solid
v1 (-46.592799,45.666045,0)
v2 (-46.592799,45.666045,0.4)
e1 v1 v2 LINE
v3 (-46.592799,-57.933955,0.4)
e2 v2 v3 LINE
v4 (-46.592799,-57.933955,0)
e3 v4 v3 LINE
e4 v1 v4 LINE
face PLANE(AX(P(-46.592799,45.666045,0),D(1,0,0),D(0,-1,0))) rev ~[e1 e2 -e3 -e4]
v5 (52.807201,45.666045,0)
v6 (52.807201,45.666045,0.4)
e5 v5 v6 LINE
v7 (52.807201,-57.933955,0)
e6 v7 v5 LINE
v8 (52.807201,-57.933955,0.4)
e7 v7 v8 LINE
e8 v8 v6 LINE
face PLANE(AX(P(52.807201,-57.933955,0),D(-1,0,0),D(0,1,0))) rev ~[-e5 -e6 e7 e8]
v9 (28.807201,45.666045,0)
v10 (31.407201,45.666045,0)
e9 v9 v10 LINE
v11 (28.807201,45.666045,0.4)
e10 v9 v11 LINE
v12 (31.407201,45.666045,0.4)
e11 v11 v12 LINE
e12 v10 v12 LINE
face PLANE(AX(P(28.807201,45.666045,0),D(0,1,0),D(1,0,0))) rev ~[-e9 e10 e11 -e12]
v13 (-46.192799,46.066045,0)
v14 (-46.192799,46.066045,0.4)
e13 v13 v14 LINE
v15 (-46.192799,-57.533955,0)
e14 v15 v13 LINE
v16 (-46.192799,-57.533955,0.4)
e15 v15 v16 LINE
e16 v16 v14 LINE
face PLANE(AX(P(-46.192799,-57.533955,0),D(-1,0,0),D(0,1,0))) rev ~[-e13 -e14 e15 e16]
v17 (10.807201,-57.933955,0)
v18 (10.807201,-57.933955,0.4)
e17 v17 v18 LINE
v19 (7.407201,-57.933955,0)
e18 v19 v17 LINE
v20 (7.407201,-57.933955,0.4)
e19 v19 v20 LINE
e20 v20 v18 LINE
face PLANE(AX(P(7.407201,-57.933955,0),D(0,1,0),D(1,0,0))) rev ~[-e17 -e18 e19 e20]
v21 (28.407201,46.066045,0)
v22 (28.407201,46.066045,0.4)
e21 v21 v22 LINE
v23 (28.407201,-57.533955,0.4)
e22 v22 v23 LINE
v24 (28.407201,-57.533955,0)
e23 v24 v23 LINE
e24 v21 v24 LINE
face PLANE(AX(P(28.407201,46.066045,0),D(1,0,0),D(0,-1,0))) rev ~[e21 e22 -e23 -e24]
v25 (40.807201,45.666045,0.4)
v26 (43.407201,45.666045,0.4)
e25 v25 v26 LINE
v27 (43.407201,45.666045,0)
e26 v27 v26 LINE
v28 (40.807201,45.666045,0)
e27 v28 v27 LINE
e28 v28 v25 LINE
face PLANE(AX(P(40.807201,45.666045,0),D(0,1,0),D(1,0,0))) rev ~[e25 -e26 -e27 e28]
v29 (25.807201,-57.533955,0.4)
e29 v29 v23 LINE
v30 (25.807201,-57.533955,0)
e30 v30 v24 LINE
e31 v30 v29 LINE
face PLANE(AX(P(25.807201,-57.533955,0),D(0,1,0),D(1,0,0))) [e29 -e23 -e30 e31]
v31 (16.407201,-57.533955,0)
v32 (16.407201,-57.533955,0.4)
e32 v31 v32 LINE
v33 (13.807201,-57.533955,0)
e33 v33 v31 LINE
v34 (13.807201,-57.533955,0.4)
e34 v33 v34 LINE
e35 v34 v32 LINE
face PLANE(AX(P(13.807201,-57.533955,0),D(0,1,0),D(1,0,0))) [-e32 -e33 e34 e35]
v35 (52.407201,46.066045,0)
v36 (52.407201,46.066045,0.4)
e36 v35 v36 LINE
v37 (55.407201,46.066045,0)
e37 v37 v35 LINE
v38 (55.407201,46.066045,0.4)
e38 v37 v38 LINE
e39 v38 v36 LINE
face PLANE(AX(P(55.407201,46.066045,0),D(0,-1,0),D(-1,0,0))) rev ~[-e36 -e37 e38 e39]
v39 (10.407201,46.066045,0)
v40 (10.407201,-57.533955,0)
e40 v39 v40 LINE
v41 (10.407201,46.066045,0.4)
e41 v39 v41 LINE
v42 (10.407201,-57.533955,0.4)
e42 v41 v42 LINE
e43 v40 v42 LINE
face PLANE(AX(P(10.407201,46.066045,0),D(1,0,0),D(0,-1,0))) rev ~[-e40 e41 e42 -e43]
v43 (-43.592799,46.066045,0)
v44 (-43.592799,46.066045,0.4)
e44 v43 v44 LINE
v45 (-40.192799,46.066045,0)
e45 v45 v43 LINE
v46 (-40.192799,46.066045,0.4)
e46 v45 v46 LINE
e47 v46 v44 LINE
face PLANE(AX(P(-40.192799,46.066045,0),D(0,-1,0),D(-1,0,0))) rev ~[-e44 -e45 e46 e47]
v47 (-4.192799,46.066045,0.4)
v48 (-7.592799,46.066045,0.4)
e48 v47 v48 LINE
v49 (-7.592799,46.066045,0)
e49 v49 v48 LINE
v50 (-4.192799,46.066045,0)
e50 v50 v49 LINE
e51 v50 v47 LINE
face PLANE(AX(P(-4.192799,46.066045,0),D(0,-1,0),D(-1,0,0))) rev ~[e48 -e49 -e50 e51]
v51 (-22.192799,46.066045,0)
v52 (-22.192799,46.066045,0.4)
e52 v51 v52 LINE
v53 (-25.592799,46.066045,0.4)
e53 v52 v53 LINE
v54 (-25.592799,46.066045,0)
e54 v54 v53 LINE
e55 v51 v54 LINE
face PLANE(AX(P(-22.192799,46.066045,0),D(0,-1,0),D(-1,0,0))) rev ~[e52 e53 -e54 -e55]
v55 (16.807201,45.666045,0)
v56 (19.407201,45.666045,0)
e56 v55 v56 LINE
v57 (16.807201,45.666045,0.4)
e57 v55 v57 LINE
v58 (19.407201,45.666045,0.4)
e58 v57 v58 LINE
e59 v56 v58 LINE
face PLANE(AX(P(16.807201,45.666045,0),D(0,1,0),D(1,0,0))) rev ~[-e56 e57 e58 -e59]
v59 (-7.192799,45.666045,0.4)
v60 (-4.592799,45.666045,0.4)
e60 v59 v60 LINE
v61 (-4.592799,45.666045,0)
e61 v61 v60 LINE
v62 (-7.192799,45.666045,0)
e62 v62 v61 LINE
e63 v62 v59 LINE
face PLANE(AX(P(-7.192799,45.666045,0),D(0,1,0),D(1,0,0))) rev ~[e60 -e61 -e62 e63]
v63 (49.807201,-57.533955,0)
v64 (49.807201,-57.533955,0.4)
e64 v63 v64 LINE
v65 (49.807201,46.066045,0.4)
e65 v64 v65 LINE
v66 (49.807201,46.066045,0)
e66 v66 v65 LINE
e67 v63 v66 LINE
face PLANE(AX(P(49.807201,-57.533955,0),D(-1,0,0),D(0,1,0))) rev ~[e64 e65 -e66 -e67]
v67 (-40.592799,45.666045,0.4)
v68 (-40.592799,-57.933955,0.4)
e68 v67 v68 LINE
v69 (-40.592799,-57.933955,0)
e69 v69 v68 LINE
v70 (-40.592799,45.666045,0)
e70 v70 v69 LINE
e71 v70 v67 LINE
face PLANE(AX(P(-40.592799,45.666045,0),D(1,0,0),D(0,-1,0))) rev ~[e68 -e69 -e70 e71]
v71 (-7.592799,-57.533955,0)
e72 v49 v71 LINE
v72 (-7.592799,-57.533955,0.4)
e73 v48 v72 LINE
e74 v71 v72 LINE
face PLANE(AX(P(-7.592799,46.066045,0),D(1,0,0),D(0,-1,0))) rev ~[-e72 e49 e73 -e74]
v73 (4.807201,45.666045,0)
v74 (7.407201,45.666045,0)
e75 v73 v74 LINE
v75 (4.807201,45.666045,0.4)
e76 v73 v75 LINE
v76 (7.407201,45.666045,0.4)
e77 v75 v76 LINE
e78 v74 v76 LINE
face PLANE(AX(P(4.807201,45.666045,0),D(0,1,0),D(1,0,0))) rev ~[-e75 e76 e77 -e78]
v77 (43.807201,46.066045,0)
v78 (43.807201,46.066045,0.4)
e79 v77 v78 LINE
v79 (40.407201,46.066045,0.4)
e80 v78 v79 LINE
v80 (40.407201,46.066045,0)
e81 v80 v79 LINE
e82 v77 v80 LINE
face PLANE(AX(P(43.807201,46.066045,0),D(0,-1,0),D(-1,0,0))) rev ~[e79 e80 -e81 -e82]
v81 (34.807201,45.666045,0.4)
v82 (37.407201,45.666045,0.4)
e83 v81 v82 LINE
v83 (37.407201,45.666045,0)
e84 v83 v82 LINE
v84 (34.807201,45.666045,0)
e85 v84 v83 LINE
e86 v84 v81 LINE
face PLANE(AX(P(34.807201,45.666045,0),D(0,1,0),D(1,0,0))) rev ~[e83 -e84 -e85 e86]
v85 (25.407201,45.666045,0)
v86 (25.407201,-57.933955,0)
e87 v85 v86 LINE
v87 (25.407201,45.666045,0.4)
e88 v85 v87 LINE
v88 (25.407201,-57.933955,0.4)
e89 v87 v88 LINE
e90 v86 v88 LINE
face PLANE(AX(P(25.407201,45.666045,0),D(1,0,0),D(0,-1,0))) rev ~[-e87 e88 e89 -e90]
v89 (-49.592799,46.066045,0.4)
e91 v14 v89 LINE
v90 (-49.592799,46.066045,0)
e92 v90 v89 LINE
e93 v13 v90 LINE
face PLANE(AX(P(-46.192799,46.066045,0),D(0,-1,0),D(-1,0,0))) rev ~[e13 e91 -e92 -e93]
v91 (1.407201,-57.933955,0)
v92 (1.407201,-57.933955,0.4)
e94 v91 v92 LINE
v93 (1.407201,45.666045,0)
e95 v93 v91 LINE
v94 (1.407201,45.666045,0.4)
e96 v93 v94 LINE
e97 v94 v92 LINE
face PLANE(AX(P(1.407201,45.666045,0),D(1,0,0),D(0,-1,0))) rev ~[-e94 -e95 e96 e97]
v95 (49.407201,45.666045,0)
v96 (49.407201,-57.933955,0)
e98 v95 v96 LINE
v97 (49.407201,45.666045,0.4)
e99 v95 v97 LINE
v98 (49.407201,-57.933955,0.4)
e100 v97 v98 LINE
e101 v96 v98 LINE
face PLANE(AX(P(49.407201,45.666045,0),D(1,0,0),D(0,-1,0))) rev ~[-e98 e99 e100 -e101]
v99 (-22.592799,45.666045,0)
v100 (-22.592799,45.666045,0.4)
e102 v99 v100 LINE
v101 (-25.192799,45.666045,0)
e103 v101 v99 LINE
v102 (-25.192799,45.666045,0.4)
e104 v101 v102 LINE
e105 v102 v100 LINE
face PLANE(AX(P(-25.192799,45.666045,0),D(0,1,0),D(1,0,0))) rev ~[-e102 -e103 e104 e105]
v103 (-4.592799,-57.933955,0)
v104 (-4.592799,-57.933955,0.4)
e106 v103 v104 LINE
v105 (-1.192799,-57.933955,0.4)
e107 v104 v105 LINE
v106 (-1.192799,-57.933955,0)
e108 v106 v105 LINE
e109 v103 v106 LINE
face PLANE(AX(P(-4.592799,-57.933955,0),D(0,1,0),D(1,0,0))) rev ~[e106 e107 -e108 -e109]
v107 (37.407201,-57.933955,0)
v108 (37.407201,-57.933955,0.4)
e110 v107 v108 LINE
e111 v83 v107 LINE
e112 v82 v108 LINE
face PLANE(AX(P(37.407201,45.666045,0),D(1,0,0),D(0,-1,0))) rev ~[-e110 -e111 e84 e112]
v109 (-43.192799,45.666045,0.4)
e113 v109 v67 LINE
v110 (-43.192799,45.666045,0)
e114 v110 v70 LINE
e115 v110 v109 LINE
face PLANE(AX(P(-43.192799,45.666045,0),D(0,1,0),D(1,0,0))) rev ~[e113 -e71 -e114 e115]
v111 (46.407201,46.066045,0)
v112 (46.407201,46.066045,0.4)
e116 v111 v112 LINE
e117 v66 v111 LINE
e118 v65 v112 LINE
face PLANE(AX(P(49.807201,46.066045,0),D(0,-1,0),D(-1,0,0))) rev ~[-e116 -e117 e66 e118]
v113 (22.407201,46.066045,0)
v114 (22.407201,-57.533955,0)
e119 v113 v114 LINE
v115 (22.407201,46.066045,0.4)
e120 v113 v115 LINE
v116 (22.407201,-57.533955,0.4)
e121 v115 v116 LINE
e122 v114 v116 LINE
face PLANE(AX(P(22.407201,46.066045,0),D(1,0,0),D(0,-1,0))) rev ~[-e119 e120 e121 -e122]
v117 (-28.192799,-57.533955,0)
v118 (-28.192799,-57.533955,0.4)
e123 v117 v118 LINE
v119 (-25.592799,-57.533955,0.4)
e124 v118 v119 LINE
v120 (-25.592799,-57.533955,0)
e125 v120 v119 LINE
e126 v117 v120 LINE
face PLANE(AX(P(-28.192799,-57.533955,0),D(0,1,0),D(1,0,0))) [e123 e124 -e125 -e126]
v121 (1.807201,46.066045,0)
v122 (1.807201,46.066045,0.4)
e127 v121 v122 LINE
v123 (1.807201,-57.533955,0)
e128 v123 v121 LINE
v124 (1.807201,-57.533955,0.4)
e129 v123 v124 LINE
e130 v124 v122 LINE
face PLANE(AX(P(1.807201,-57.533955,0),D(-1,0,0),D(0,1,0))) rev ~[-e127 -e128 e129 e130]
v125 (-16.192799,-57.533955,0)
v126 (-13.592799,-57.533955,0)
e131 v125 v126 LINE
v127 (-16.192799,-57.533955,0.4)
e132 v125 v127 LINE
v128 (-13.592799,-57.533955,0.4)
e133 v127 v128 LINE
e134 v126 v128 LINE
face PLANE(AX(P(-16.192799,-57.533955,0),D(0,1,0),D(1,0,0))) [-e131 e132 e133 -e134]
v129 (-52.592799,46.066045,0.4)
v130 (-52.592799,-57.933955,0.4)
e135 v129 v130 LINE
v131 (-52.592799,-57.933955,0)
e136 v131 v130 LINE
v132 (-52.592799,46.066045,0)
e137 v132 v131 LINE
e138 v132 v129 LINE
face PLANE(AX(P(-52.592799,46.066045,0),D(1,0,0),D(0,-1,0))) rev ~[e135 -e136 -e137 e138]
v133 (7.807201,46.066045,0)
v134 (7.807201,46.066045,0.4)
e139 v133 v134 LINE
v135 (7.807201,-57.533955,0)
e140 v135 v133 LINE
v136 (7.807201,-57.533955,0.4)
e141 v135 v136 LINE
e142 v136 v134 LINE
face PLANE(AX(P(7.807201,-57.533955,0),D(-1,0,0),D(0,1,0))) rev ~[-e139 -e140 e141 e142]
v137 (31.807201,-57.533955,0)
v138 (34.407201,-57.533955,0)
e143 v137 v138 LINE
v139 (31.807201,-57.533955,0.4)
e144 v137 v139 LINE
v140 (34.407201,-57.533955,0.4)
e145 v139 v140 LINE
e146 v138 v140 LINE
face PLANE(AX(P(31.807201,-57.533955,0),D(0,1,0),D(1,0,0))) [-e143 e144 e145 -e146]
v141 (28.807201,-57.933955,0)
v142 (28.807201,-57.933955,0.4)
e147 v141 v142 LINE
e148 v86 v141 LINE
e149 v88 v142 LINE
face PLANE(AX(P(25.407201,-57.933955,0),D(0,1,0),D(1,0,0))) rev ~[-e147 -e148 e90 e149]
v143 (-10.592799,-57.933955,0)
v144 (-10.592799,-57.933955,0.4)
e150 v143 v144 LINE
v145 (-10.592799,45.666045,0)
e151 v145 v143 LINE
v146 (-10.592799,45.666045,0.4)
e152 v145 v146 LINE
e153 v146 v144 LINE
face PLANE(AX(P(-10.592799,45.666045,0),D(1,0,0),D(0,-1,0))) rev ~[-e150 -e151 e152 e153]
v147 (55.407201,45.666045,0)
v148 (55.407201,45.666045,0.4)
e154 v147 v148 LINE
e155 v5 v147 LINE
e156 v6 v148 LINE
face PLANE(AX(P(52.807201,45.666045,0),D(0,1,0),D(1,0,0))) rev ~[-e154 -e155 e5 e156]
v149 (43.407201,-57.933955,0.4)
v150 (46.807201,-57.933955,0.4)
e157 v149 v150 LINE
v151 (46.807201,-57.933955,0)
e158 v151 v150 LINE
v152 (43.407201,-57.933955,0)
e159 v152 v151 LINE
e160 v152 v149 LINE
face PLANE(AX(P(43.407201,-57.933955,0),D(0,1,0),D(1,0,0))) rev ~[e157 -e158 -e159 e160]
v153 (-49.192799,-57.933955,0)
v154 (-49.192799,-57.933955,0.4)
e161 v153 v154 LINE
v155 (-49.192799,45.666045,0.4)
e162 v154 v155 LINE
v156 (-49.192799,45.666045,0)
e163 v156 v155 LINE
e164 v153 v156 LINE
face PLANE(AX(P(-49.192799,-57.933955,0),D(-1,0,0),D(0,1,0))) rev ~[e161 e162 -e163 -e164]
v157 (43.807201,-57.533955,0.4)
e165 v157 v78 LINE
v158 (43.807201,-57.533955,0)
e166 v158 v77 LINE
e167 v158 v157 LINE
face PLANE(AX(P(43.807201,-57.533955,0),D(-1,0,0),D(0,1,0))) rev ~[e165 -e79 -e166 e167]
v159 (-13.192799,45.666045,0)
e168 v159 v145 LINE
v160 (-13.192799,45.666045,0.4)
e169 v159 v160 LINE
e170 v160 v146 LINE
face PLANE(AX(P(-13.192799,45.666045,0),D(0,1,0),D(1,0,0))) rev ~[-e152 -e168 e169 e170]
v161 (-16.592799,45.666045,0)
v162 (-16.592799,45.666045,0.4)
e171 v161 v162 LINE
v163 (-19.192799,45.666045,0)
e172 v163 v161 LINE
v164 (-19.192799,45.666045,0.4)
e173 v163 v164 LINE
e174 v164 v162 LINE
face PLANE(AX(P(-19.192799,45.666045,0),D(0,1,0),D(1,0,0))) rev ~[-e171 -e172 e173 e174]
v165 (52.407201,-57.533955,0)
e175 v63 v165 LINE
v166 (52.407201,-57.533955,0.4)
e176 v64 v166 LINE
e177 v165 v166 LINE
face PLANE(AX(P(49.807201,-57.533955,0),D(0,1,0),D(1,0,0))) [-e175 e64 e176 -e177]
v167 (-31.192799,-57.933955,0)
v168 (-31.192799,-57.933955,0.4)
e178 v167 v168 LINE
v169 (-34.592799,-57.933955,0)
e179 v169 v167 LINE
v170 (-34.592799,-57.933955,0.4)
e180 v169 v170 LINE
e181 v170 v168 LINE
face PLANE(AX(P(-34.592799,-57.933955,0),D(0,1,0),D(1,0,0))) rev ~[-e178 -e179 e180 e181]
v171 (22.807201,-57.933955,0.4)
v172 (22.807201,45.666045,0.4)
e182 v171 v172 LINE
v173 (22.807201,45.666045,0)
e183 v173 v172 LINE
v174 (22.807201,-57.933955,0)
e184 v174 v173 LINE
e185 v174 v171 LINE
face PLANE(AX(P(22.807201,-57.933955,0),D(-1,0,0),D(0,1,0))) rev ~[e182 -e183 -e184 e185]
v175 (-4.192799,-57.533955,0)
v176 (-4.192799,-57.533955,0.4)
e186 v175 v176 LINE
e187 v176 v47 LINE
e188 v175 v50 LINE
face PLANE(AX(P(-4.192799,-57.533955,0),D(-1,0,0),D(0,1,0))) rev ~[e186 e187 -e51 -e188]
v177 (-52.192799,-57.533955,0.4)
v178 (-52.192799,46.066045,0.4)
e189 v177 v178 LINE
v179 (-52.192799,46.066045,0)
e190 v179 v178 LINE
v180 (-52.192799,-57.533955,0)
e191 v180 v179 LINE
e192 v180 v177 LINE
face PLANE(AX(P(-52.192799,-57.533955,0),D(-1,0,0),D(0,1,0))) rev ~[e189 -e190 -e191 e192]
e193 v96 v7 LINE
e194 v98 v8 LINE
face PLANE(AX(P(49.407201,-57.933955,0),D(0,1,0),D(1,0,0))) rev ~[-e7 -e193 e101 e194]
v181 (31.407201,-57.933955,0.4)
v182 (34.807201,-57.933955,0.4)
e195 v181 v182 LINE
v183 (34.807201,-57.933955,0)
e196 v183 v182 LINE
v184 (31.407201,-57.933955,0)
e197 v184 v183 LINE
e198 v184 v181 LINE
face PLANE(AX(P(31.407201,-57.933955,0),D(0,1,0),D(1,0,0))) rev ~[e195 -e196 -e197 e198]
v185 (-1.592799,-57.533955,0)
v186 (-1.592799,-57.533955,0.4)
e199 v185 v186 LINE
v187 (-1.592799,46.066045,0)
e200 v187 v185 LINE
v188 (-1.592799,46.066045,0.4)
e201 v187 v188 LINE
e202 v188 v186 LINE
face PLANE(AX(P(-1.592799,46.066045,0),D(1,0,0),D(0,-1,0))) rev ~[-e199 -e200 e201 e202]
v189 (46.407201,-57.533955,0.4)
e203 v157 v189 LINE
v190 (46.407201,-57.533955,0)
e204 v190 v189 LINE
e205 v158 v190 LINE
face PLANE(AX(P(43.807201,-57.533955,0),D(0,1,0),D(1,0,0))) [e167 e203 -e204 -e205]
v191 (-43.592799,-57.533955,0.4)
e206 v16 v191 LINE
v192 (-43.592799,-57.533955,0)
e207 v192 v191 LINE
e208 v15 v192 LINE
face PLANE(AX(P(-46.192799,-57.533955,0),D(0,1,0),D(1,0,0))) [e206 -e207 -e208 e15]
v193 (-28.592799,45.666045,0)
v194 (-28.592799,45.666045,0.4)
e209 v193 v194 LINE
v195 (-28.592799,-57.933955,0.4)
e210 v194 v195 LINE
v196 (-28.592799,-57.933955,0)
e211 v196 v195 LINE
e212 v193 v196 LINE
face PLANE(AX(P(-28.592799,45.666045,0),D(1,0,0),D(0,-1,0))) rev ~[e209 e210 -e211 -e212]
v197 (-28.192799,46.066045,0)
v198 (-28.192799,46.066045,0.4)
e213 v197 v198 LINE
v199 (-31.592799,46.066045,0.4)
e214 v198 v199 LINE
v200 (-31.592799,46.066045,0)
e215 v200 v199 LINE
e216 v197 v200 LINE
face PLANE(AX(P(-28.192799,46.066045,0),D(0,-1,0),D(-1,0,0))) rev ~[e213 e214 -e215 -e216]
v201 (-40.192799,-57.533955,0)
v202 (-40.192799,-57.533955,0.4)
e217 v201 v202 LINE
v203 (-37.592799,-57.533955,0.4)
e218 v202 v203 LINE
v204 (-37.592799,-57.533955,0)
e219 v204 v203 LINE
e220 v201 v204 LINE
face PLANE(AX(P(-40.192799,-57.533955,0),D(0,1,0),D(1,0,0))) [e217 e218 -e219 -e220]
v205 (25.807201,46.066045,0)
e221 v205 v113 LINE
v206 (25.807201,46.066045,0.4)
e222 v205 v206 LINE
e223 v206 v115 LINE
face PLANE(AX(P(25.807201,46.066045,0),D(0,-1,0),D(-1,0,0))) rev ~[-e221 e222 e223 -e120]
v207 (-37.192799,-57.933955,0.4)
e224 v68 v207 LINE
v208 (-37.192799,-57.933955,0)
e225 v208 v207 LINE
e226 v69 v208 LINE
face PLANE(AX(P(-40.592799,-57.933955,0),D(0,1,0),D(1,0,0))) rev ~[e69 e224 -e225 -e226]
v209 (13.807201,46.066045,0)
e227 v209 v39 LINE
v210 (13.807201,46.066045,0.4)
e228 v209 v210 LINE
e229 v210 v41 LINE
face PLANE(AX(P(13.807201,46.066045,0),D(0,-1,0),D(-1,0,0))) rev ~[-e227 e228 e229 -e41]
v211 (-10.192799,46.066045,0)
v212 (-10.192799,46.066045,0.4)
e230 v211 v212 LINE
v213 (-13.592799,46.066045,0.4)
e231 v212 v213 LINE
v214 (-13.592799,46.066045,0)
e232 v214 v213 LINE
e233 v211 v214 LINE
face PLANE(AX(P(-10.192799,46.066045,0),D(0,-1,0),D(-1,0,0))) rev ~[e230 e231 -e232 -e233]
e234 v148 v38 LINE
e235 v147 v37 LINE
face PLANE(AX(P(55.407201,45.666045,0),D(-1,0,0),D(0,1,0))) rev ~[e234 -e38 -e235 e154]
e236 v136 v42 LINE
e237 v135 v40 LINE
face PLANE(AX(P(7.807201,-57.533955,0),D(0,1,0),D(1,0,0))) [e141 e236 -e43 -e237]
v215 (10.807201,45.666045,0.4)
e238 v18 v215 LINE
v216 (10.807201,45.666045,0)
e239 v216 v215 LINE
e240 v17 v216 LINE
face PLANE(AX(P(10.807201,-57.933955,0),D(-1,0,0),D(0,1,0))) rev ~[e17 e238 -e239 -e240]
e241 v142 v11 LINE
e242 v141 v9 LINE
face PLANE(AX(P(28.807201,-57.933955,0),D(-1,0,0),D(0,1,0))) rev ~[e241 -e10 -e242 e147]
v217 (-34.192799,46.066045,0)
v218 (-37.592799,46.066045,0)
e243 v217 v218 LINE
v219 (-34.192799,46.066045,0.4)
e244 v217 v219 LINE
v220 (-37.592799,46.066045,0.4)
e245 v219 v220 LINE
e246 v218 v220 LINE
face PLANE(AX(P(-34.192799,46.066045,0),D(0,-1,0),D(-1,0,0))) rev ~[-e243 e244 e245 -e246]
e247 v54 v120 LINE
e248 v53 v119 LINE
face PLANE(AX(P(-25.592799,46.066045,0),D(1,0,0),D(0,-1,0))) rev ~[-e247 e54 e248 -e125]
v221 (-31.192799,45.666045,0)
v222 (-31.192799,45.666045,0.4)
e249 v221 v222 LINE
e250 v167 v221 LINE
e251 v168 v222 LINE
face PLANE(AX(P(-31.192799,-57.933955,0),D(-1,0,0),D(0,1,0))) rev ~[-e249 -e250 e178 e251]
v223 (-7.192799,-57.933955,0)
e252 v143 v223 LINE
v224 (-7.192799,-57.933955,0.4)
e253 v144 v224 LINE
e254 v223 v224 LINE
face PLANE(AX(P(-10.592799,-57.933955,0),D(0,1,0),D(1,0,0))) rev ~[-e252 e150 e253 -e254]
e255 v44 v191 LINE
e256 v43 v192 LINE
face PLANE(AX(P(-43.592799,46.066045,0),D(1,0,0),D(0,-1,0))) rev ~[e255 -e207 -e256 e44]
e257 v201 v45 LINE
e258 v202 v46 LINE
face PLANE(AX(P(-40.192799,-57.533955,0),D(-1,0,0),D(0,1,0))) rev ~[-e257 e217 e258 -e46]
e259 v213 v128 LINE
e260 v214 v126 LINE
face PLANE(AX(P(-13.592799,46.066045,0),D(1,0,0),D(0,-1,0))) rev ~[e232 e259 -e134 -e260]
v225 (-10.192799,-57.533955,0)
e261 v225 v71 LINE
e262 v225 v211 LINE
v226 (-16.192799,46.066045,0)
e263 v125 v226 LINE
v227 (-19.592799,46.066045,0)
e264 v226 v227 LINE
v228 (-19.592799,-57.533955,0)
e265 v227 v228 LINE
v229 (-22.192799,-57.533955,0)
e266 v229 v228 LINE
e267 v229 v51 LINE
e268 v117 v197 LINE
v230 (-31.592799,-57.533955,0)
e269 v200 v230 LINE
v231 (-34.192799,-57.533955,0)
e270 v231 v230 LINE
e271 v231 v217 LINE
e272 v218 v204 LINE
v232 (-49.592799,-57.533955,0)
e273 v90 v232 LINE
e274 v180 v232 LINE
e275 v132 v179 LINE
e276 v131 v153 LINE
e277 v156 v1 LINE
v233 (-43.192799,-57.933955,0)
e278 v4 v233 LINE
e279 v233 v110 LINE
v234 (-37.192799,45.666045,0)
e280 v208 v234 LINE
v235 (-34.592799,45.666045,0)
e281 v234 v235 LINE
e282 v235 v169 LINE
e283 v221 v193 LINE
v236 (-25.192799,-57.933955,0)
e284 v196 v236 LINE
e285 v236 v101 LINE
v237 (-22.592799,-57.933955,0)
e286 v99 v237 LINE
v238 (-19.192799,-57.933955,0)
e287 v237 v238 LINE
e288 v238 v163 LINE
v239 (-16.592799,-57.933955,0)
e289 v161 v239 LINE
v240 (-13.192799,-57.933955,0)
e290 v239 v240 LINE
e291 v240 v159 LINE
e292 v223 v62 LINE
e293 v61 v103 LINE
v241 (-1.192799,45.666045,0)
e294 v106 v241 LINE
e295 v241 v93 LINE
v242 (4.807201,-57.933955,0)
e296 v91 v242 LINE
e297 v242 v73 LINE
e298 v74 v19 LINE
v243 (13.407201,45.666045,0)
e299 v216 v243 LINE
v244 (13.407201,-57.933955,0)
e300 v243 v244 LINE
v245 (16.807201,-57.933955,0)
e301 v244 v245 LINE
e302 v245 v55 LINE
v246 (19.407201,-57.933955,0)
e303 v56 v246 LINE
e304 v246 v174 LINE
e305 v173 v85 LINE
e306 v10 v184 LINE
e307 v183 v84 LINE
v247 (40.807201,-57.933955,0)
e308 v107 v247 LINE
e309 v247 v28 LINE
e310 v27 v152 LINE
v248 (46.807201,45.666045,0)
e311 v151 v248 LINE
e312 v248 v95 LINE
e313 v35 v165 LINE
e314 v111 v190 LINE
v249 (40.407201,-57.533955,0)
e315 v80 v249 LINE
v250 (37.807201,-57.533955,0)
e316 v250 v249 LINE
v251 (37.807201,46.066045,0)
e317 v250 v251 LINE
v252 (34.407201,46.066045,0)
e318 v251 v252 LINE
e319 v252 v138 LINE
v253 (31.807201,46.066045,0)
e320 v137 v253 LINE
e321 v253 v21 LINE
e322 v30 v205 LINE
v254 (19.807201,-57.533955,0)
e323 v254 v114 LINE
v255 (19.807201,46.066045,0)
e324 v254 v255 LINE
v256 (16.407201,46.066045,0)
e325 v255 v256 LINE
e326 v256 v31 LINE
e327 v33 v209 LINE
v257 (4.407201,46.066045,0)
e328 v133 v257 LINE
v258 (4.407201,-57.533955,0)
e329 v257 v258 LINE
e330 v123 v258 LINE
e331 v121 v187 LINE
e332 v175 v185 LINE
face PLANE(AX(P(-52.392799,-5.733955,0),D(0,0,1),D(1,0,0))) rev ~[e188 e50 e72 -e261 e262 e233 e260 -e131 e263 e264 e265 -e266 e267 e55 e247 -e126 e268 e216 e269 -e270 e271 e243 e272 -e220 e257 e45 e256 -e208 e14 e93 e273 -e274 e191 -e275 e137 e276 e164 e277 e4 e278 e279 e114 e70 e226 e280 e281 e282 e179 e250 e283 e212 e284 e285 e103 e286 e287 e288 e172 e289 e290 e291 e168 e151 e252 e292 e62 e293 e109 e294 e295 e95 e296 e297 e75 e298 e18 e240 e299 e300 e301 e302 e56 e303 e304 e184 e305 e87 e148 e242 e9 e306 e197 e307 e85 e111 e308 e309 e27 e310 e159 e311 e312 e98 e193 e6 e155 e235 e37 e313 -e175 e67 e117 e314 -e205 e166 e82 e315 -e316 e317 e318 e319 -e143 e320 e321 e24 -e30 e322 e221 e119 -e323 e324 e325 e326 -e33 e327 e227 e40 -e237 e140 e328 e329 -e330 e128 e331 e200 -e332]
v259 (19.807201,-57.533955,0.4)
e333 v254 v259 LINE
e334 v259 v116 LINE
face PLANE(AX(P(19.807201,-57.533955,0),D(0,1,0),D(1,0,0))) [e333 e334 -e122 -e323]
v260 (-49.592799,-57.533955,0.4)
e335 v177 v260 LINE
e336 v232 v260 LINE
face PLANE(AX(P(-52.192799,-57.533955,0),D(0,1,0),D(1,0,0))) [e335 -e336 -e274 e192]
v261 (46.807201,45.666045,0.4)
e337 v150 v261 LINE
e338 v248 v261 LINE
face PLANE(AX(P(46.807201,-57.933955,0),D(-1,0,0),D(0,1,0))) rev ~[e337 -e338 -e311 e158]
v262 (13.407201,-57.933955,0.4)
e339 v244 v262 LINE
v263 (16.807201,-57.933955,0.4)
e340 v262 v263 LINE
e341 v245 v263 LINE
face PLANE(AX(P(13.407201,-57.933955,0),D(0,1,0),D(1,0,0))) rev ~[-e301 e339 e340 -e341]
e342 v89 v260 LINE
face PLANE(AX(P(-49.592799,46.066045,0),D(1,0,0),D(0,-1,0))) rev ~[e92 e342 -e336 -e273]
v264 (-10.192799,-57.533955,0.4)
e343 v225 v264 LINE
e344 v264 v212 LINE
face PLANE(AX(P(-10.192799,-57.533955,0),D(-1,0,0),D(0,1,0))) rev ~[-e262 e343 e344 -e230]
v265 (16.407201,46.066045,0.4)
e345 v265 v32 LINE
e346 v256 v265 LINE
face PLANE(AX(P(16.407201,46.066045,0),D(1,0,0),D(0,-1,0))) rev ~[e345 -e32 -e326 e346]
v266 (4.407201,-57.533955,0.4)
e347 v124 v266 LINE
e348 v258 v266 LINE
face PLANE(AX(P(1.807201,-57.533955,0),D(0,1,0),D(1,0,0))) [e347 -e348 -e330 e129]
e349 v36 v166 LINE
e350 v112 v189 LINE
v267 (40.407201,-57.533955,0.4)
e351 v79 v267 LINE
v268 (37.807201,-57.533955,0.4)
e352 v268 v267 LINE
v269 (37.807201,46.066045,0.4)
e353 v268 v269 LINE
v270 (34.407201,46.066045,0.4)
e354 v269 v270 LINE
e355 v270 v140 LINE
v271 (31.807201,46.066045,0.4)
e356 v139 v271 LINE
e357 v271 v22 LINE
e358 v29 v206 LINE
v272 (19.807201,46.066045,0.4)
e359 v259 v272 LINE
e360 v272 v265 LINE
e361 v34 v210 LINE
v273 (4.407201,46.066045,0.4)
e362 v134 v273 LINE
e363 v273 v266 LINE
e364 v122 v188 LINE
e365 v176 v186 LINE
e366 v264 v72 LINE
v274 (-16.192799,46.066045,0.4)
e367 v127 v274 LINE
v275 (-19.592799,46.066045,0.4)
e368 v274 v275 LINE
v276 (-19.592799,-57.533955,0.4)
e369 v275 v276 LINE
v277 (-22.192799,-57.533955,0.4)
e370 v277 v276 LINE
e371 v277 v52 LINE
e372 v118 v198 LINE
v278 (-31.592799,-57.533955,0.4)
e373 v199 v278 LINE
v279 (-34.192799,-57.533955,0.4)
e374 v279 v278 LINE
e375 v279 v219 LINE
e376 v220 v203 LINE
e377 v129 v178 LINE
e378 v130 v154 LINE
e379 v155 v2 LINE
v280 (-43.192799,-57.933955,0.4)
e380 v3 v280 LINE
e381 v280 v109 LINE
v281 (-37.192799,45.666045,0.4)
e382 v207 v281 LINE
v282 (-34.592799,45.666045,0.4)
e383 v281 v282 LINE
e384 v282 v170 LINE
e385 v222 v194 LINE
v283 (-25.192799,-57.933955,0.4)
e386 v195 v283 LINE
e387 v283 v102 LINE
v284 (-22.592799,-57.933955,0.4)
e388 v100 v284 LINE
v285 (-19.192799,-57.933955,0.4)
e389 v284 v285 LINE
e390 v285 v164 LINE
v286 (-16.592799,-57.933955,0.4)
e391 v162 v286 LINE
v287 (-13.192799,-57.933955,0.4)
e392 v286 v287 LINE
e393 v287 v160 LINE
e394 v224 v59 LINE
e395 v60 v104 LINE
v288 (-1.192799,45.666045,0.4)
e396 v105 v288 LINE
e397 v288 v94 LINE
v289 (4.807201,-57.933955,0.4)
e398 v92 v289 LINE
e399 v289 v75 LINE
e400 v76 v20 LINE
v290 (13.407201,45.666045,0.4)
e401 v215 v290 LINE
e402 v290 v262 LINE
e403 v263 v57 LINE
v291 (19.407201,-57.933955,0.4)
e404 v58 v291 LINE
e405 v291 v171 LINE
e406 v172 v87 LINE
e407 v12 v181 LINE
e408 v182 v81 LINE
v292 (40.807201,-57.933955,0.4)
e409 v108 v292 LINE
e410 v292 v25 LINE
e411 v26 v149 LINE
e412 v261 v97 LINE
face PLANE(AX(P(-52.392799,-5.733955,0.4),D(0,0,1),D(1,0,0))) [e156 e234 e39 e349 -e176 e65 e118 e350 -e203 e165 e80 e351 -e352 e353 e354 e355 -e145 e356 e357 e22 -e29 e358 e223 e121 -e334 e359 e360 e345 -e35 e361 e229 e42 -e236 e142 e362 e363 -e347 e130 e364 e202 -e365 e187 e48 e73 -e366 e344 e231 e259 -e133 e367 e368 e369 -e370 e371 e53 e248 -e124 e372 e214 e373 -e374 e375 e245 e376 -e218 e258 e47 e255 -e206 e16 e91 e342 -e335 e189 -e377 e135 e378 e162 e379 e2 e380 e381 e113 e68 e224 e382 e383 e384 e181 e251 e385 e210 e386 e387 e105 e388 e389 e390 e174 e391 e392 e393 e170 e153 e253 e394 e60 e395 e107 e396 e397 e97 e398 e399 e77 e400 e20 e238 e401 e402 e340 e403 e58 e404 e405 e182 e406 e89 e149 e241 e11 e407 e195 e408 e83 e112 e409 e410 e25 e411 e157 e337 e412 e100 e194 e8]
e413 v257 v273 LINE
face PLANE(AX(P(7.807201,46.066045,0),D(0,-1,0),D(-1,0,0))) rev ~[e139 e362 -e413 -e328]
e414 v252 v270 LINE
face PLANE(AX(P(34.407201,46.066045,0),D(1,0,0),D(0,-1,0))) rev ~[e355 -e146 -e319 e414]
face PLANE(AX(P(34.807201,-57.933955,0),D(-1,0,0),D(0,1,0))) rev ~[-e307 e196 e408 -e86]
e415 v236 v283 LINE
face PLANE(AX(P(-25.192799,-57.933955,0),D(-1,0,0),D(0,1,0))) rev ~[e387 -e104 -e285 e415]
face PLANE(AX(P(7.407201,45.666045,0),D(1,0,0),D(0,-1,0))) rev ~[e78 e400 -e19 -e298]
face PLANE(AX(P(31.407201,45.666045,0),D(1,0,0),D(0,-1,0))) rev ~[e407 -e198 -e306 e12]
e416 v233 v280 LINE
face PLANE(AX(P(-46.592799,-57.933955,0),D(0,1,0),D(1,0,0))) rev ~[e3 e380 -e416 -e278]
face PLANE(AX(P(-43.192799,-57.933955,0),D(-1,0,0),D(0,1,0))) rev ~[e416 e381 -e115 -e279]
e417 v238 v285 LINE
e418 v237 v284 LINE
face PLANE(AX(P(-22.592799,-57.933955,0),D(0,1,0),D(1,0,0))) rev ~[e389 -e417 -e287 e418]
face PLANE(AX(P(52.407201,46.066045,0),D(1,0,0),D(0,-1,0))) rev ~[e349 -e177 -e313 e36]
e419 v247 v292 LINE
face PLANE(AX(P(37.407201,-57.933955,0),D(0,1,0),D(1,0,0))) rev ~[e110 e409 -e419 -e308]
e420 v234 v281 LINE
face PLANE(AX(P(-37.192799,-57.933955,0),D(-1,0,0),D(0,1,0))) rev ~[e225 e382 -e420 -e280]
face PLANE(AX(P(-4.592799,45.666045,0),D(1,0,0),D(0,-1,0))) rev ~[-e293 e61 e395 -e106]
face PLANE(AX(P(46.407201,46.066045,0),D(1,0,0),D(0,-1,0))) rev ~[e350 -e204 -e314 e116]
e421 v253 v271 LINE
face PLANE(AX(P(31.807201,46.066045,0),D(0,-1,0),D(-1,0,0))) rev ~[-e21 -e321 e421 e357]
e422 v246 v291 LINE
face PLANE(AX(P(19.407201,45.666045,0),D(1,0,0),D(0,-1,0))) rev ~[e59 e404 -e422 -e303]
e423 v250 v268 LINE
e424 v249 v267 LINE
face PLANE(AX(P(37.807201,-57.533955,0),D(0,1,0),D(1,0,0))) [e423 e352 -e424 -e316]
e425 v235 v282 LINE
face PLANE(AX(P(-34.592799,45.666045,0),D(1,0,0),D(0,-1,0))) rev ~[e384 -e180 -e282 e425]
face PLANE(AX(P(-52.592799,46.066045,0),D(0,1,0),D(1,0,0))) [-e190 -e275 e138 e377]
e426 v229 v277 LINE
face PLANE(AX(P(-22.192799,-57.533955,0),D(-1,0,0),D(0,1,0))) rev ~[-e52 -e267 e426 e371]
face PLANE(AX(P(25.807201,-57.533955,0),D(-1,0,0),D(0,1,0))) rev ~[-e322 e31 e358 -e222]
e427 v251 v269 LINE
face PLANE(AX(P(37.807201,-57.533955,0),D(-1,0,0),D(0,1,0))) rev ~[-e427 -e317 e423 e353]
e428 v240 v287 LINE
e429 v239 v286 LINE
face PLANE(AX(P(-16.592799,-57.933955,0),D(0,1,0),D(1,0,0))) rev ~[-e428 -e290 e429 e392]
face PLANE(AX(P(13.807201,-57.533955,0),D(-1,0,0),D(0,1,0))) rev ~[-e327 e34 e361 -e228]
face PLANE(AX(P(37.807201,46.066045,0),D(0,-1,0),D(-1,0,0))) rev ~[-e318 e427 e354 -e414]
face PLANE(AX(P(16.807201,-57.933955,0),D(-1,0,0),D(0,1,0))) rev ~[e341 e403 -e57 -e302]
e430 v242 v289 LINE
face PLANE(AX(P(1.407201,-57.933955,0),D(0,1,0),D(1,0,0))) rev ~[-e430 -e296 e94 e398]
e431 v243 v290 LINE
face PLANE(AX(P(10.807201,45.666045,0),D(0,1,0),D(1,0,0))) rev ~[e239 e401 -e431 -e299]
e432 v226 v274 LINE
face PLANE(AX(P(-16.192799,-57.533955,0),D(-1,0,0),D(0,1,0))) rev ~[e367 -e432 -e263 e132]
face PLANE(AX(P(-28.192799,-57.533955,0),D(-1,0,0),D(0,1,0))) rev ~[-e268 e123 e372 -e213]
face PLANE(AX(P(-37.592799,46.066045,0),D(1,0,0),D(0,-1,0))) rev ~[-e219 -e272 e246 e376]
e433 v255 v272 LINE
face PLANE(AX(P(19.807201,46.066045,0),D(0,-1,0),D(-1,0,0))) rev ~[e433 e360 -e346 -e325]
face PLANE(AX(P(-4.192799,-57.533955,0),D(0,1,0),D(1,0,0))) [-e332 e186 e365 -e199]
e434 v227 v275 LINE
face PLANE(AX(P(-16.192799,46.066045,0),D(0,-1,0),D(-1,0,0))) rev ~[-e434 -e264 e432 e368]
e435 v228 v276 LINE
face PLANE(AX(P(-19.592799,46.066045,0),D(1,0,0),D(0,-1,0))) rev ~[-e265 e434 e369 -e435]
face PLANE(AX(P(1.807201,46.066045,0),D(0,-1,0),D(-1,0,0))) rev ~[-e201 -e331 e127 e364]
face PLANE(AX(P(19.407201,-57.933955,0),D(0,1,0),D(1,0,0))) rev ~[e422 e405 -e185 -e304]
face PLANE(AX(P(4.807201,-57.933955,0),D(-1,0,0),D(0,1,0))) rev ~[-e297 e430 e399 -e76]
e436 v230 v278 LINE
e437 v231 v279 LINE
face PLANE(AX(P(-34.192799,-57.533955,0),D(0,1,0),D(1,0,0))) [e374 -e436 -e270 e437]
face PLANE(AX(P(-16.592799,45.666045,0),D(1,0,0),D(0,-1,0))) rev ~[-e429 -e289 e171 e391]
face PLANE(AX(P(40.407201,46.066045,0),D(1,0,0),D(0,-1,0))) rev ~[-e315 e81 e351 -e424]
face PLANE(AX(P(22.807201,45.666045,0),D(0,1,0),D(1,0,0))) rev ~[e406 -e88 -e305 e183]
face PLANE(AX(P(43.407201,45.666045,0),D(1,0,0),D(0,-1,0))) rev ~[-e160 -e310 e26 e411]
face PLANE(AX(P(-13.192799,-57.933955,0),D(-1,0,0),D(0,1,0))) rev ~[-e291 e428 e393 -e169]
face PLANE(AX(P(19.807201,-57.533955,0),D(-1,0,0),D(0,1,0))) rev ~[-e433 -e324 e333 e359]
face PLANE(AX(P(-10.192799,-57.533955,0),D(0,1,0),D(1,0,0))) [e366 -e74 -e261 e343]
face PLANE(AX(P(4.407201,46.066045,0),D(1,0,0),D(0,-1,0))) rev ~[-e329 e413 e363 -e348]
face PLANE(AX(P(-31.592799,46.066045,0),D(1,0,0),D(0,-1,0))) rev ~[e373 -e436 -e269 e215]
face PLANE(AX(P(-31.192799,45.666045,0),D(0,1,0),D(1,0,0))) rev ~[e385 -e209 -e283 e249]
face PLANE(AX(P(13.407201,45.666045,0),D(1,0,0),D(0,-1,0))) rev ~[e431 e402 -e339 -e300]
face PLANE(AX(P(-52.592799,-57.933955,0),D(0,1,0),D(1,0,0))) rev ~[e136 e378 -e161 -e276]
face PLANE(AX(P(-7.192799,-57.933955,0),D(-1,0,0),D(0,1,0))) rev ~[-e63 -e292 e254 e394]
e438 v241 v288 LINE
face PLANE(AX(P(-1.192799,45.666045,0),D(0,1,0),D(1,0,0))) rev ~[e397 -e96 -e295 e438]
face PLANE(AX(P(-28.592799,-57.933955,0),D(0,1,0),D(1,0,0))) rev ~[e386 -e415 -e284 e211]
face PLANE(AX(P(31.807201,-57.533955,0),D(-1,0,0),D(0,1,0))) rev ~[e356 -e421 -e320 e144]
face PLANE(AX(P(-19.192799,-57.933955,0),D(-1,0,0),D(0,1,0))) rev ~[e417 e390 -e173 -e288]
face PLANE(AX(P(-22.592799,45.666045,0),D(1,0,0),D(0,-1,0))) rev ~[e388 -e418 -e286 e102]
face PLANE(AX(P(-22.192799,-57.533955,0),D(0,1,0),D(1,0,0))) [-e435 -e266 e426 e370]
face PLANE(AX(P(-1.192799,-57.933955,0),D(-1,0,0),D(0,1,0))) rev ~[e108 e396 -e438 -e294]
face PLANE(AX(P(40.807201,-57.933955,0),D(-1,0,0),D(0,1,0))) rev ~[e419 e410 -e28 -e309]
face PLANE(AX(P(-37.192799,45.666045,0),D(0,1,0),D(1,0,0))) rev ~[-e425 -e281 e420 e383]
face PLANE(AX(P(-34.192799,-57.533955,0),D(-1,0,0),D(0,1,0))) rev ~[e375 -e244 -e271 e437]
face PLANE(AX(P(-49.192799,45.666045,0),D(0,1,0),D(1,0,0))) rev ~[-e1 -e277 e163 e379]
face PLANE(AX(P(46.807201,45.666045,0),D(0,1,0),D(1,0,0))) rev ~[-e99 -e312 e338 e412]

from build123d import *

# Parameters (mm, degrees)
F0_W     = 0.4
F0_H     = 103.6
F0_W_2   = 2.6
F0_H_2   = 0.4
F1_DEPTH = 0.4


with BuildPart() as f1:
    # F0 (on Top) → F1 (new body)
    with BuildSketch(Plane.XY):
        with Locations((-52.392799, -5.733955)):
            Rectangle(F0_W, F0_H)
        with Locations((54.107201, 45.866045)):
            Rectangle(F0_W_2, F0_H_2)
        with Locations((-52.392799, -57.733955)):
            Rectangle(F0_W, F0_H_2)
        with Locations((-50.892799, -57.733955)):
            Rectangle(F0_W_2, F0_H_2)
        Polygon((-49.592799, 45.666045), (-49.592799, -57.533955), (-49.592799, -57.933955), (-49.192799, -57.933955), (-49.192799, 45.666045), align=None)
        with Locations((-49.392799, 45.866045)):
            Rectangle(F0_W, F0_H_2)
        with Locations((-47.892799, 45.866045)):
            Rectangle(F0_W_2, F0_H_2)
        Polygon((-46.592799, 46.066045), (-46.592799, 45.666045), (-46.592799, -57.533955), (-46.192799, -57.533955), (-46.192799, 46.066045), align=None)
        with Locations((-46.392799, -57.733955)):
            Rectangle(F0_W, F0_H_2)
        with Locations((-44.892799, -57.733955)):
            Rectangle(F0_W_2, F0_H_2)
        Polygon((-43.592799, 45.666045), (-43.592799, -57.533955), (-43.592799, -57.933955), (-43.192799, -57.933955), (-43.192799, 45.666045), align=None)
        with Locations((-43.392799, 45.866045)):
            Rectangle(F0_W, F0_H_2)
        with Locations((-41.892799, 45.866045)):
            Rectangle(F0_W_2, F0_H_2)
        Polygon((-40.592799, 46.066045), (-40.592799, 45.666045), (-40.592799, -57.533955), (-40.192799, -57.533955), (-40.192799, 46.066045), align=None)
        with Locations((-40.392799, -57.733955)):
            Rectangle(F0_W, F0_H_2)
        with Locations((-38.892799, -57.733955)):
            Rectangle(F0_W_2, F0_H_2)
        Polygon((-37.592799, 45.666045), (-37.592799, -57.533955), (-37.592799, -57.933955), (-37.192799, -57.933955), (-37.192799, 45.666045), align=None)
        with Locations((-37.392799, 45.866045)):
            Rectangle(F0_W, F0_H_2)
        with Locations((-35.892799, 45.866045)):
            Rectangle(F0_W_2, F0_H_2)
        Polygon((-34.592799, 46.066045), (-34.592799, 45.666045), (-34.592799, -57.533955), (-34.192799, -57.533955), (-34.192799, 46.066045), align=None)
        with Locations((-34.392799, -57.733955)):
            Rectangle(F0_W, F0_H_2)
        with Locations((-32.892799, -57.733955)):
            Rectangle(F0_W_2, F0_H_2)
        Polygon((-31.592799, 45.666045), (-31.592799, -57.533955), (-31.592799, -57.933955), (-31.192799, -57.933955), (-31.192799, 45.666045), align=None)
        with Locations((-31.392799, 45.866045)):
            Rectangle(F0_W, F0_H_2)
        with Locations((-29.892799, 45.866045)):
            Rectangle(F0_W_2, F0_H_2)
        Polygon((-28.592799, 46.066045), (-28.592799, 45.666045), (-28.592799, -57.533955), (-28.192799, -57.533955), (-28.192799, 46.066045), align=None)
        with Locations((-28.392799, -57.733955)):
            Rectangle(F0_W, F0_H_2)
        with Locations((-26.892799, -57.733955)):
            Rectangle(F0_W_2, F0_H_2)
        Polygon((-25.592799, 45.666045), (-25.592799, -57.533955), (-25.592799, -57.933955), (-25.192799, -57.933955), (-25.192799, 45.666045), align=None)
        with Locations((-25.392799, 45.866045)):
            Rectangle(F0_W, F0_H_2)
        with Locations((-23.892799, 45.866045)):
            Rectangle(F0_W_2, F0_H_2)
        Polygon((-22.592799, 46.066045), (-22.592799, 45.666045), (-22.592799, -57.533955), (-22.192799, -57.533955), (-22.192799, 46.066045), align=None)
        with Locations((-22.392799, -57.733955)):
            Rectangle(F0_W, F0_H_2)
        with Locations((-20.892799, -57.733955)):
            Rectangle(F0_W_2, F0_H_2)
        Polygon((-19.592799, 45.666045), (-19.592799, -57.533955), (-19.592799, -57.933955), (-19.192799, -57.933955), (-19.192799, 45.666045), align=None)
        with Locations((-19.392799, 45.866045)):
            Rectangle(F0_W, F0_H_2)
        with Locations((-17.892799, 45.866045)):
            Rectangle(F0_W_2, F0_H_2)
        Polygon((-16.592799, 46.066045), (-16.592799, 45.666045), (-16.592799, -57.533955), (-16.192799, -57.533955), (-16.192799, 46.066045), align=None)
        with Locations((-16.392799, -57.733955)):
            Rectangle(F0_W, F0_H_2)
        with Locations((-14.892799, -57.733955)):
            Rectangle(F0_W_2, F0_H_2)
        Polygon((-13.592799, 45.666045), (-13.592799, -57.533955), (-13.592799, -57.933955), (-13.192799, -57.933955), (-13.192799, 45.666045), align=None)
        with Locations((-13.392799, 45.866045)):
            Rectangle(F0_W, F0_H_2)
        with Locations((-11.892799, 45.866045)):
            Rectangle(F0_W_2, F0_H_2)
        Polygon((-10.592799, 46.066045), (-10.592799, 45.666045), (-10.592799, -57.533955), (-10.192799, -57.533955), (-10.192799, 46.066045), align=None)
        with Locations((-10.392799, -57.733955)):
            Rectangle(F0_W, F0_H_2)
        with Locations((-8.892799, -57.733955)):
            Rectangle(F0_W_2, F0_H_2)
        Polygon((-7.592799, 45.666045), (-7.592799, -57.533955), (-7.592799, -57.933955), (-7.192799, -57.933955), (-7.192799, 45.666045), align=None)
        with Locations((-7.392799, 45.866045)):
            Rectangle(F0_W, F0_H_2)
        with Locations((-5.892799, 45.866045)):
            Rectangle(F0_W_2, F0_H_2)
        Polygon((-4.592799, 46.066045), (-4.592799, 45.666045), (-4.592799, -57.533955), (-4.192799, -57.533955), (-4.192799, 46.066045), align=None)
        with Locations((-4.392799, -57.733955)):
            Rectangle(F0_W, F0_H_2)
        with Locations((-2.892799, -57.733955)):
            Rectangle(F0_W_2, F0_H_2)
        Polygon((-1.592799, 45.666045), (-1.592799, -57.533955), (-1.592799, -57.933955), (-1.192799, -57.933955), (-1.192799, 45.666045), align=None)
        with Locations((-1.392799, 45.866045)):
            Rectangle(F0_W, F0_H_2)
        with Locations((0.107201, 45.866045)):
            Rectangle(F0_W_2, F0_H_2)
        Polygon((1.407201, 46.066045), (1.407201, 45.666045), (1.407201, -57.533955), (1.807201, -57.533955), (1.807201, 46.066045), align=None)
        with Locations((1.607201, -57.733955)):
            Rectangle(F0_W, F0_H_2)
        with Locations((3.107201, -57.733955)):
            Rectangle(F0_W_2, F0_H_2)
        Polygon((4.407201, 45.666045), (4.407201, -57.533955), (4.407201, -57.933955), (4.807201, -57.933955), (4.807201, 45.666045), align=None)
        with Locations((4.607201, 45.866045)):
            Rectangle(F0_W, F0_H_2)
        with Locations((6.107201, 45.866045)):
            Rectangle(F0_W_2, F0_H_2)
        Polygon((7.407201, 46.066045), (7.407201, 45.666045), (7.407201, -57.533955), (7.807201, -57.533955), (7.807201, 46.066045), align=None)
        with Locations((7.607201, -57.733955)):
            Rectangle(F0_W, F0_H_2)
        with Locations((9.107201, -57.733955)):
            Rectangle(F0_W_2, F0_H_2)
        Polygon((10.407201, 45.666045), (10.407201, -57.533955), (10.407201, -57.933955), (10.807201, -57.933955), (10.807201, 45.666045), align=None)
        with Locations((10.607201, 45.866045)):
            Rectangle(F0_W, F0_H_2)
        with Locations((12.107201, 45.866045)):
            Rectangle(F0_W_2, F0_H_2)
        Polygon((13.407201, 46.066045), (13.407201, 45.666045), (13.407201, -57.533955), (13.807201, -57.533955), (13.807201, 46.066045), align=None)
        with Locations((13.607201, -57.733955)):
            Rectangle(F0_W, F0_H_2)
        with Locations((15.107201, -57.733955)):
            Rectangle(F0_W_2, F0_H_2)
        Polygon((16.407201, 45.666045), (16.407201, -57.533955), (16.407201, -57.933955), (16.807201, -57.933955), (16.807201, 45.666045), align=None)
        with Locations((16.607201, 45.866045)):
            Rectangle(F0_W, F0_H_2)
        with Locations((18.107201, 45.866045)):
            Rectangle(F0_W_2, F0_H_2)
        Polygon((19.407201, 46.066045), (19.407201, 45.666045), (19.407201, -57.533955), (19.807201, -57.533955), (19.807201, 46.066045), align=None)
        with Locations((19.607201, -57.733955)):
            Rectangle(F0_W, F0_H_2)
        with Locations((21.107201, -57.733955)):
            Rectangle(F0_W_2, F0_H_2)
        Polygon((22.407201, 45.666045), (22.407201, -57.533955), (22.407201, -57.933955), (22.807201, -57.933955), (22.807201, 45.666045), align=None)
        with Locations((22.607201, 45.866045)):
            Rectangle(F0_W, F0_H_2)
        with Locations((24.107201, 45.866045)):
            Rectangle(F0_W_2, F0_H_2)
        Polygon((25.407201, 46.066045), (25.407201, 45.666045), (25.407201, -57.533955), (25.807201, -57.533955), (25.807201, 46.066045), align=None)
        with Locations((25.607201, -57.733955)):
            Rectangle(F0_W, F0_H_2)
        with Locations((27.107201, -57.733955)):
            Rectangle(F0_W_2, F0_H_2)
        Polygon((28.407201, 45.666045), (28.407201, -57.533955), (28.407201, -57.933955), (28.807201, -57.933955), (28.807201, 45.666045), align=None)
        with Locations((28.607201, 45.866045)):
            Rectangle(F0_W, F0_H_2)
        with Locations((30.107201, 45.866045)):
            Rectangle(F0_W_2, F0_H_2)
        Polygon((31.407201, 46.066045), (31.407201, 45.666045), (31.407201, -57.533955), (31.807201, -57.533955), (31.807201, 46.066045), align=None)
        with Locations((31.607201, -57.733955)):
            Rectangle(F0_W, F0_H_2)
        with Locations((33.107201, -57.733955)):
            Rectangle(F0_W_2, F0_H_2)
        Polygon((34.407201, 45.666045), (34.407201, -57.533955), (34.407201, -57.933955), (34.807201, -57.933955), (34.807201, 45.666045), align=None)
        with Locations((34.607201, 45.866045)):
            Rectangle(F0_W, F0_H_2)
        with Locations((36.107201, 45.866045)):
            Rectangle(F0_W_2, F0_H_2)
        Polygon((37.407201, 46.066045), (37.407201, 45.666045), (37.407201, -57.533955), (37.807201, -57.533955), (37.807201, 46.066045), align=None)
        with Locations((37.607201, -57.733955)):
            Rectangle(F0_W, F0_H_2)
        with Locations((39.107201, -57.733955)):
            Rectangle(F0_W_2, F0_H_2)
        Polygon((40.407201, 45.666045), (40.407201, -57.533955), (40.407201, -57.933955), (40.807201, -57.933955), (40.807201, 45.666045), align=None)
        with Locations((40.607201, 45.866045)):
            Rectangle(F0_W, F0_H_2)
        with Locations((42.107201, 45.866045)):
            Rectangle(F0_W_2, F0_H_2)
        Polygon((43.407201, 46.066045), (43.407201, 45.666045), (43.407201, -57.533955), (43.807201, -57.533955), (43.807201, 46.066045), align=None)
        with Locations((43.607201, -57.733955)):
            Rectangle(F0_W, F0_H_2)
        with Locations((45.107201, -57.733955)):
            Rectangle(F0_W_2, F0_H_2)
        Polygon((46.407201, 45.666045), (46.407201, -57.533955), (46.407201, -57.933955), (46.807201, -57.933955), (46.807201, 45.666045), align=None)
        with Locations((46.607201, 45.866045)):
            Rectangle(F0_W, F0_H_2)
        with Locations((48.107201, 45.866045)):
            Rectangle(F0_W_2, F0_H_2)
        Polygon((49.407201, 46.066045), (49.407201, 45.666045), (49.407201, -57.533955), (49.807201, -57.533955), (49.807201, 46.066045), align=None)
        with Locations((49.607201, -57.733955)):
            Rectangle(F0_W, F0_H_2)
        with Locations((51.107201, -57.733955)):
            Rectangle(F0_W_2, F0_H_2)
        Polygon((52.407201, 45.666045), (52.407201, -57.533955), (52.407201, -57.933955), (52.807201, -57.933955), (52.807201, 45.666045), align=None)
        with Locations((52.607201, 45.866045)):
            Rectangle(F0_W, F0_H_2)
    extrude(amount=F1_DEPTH)


solid = f1.part
